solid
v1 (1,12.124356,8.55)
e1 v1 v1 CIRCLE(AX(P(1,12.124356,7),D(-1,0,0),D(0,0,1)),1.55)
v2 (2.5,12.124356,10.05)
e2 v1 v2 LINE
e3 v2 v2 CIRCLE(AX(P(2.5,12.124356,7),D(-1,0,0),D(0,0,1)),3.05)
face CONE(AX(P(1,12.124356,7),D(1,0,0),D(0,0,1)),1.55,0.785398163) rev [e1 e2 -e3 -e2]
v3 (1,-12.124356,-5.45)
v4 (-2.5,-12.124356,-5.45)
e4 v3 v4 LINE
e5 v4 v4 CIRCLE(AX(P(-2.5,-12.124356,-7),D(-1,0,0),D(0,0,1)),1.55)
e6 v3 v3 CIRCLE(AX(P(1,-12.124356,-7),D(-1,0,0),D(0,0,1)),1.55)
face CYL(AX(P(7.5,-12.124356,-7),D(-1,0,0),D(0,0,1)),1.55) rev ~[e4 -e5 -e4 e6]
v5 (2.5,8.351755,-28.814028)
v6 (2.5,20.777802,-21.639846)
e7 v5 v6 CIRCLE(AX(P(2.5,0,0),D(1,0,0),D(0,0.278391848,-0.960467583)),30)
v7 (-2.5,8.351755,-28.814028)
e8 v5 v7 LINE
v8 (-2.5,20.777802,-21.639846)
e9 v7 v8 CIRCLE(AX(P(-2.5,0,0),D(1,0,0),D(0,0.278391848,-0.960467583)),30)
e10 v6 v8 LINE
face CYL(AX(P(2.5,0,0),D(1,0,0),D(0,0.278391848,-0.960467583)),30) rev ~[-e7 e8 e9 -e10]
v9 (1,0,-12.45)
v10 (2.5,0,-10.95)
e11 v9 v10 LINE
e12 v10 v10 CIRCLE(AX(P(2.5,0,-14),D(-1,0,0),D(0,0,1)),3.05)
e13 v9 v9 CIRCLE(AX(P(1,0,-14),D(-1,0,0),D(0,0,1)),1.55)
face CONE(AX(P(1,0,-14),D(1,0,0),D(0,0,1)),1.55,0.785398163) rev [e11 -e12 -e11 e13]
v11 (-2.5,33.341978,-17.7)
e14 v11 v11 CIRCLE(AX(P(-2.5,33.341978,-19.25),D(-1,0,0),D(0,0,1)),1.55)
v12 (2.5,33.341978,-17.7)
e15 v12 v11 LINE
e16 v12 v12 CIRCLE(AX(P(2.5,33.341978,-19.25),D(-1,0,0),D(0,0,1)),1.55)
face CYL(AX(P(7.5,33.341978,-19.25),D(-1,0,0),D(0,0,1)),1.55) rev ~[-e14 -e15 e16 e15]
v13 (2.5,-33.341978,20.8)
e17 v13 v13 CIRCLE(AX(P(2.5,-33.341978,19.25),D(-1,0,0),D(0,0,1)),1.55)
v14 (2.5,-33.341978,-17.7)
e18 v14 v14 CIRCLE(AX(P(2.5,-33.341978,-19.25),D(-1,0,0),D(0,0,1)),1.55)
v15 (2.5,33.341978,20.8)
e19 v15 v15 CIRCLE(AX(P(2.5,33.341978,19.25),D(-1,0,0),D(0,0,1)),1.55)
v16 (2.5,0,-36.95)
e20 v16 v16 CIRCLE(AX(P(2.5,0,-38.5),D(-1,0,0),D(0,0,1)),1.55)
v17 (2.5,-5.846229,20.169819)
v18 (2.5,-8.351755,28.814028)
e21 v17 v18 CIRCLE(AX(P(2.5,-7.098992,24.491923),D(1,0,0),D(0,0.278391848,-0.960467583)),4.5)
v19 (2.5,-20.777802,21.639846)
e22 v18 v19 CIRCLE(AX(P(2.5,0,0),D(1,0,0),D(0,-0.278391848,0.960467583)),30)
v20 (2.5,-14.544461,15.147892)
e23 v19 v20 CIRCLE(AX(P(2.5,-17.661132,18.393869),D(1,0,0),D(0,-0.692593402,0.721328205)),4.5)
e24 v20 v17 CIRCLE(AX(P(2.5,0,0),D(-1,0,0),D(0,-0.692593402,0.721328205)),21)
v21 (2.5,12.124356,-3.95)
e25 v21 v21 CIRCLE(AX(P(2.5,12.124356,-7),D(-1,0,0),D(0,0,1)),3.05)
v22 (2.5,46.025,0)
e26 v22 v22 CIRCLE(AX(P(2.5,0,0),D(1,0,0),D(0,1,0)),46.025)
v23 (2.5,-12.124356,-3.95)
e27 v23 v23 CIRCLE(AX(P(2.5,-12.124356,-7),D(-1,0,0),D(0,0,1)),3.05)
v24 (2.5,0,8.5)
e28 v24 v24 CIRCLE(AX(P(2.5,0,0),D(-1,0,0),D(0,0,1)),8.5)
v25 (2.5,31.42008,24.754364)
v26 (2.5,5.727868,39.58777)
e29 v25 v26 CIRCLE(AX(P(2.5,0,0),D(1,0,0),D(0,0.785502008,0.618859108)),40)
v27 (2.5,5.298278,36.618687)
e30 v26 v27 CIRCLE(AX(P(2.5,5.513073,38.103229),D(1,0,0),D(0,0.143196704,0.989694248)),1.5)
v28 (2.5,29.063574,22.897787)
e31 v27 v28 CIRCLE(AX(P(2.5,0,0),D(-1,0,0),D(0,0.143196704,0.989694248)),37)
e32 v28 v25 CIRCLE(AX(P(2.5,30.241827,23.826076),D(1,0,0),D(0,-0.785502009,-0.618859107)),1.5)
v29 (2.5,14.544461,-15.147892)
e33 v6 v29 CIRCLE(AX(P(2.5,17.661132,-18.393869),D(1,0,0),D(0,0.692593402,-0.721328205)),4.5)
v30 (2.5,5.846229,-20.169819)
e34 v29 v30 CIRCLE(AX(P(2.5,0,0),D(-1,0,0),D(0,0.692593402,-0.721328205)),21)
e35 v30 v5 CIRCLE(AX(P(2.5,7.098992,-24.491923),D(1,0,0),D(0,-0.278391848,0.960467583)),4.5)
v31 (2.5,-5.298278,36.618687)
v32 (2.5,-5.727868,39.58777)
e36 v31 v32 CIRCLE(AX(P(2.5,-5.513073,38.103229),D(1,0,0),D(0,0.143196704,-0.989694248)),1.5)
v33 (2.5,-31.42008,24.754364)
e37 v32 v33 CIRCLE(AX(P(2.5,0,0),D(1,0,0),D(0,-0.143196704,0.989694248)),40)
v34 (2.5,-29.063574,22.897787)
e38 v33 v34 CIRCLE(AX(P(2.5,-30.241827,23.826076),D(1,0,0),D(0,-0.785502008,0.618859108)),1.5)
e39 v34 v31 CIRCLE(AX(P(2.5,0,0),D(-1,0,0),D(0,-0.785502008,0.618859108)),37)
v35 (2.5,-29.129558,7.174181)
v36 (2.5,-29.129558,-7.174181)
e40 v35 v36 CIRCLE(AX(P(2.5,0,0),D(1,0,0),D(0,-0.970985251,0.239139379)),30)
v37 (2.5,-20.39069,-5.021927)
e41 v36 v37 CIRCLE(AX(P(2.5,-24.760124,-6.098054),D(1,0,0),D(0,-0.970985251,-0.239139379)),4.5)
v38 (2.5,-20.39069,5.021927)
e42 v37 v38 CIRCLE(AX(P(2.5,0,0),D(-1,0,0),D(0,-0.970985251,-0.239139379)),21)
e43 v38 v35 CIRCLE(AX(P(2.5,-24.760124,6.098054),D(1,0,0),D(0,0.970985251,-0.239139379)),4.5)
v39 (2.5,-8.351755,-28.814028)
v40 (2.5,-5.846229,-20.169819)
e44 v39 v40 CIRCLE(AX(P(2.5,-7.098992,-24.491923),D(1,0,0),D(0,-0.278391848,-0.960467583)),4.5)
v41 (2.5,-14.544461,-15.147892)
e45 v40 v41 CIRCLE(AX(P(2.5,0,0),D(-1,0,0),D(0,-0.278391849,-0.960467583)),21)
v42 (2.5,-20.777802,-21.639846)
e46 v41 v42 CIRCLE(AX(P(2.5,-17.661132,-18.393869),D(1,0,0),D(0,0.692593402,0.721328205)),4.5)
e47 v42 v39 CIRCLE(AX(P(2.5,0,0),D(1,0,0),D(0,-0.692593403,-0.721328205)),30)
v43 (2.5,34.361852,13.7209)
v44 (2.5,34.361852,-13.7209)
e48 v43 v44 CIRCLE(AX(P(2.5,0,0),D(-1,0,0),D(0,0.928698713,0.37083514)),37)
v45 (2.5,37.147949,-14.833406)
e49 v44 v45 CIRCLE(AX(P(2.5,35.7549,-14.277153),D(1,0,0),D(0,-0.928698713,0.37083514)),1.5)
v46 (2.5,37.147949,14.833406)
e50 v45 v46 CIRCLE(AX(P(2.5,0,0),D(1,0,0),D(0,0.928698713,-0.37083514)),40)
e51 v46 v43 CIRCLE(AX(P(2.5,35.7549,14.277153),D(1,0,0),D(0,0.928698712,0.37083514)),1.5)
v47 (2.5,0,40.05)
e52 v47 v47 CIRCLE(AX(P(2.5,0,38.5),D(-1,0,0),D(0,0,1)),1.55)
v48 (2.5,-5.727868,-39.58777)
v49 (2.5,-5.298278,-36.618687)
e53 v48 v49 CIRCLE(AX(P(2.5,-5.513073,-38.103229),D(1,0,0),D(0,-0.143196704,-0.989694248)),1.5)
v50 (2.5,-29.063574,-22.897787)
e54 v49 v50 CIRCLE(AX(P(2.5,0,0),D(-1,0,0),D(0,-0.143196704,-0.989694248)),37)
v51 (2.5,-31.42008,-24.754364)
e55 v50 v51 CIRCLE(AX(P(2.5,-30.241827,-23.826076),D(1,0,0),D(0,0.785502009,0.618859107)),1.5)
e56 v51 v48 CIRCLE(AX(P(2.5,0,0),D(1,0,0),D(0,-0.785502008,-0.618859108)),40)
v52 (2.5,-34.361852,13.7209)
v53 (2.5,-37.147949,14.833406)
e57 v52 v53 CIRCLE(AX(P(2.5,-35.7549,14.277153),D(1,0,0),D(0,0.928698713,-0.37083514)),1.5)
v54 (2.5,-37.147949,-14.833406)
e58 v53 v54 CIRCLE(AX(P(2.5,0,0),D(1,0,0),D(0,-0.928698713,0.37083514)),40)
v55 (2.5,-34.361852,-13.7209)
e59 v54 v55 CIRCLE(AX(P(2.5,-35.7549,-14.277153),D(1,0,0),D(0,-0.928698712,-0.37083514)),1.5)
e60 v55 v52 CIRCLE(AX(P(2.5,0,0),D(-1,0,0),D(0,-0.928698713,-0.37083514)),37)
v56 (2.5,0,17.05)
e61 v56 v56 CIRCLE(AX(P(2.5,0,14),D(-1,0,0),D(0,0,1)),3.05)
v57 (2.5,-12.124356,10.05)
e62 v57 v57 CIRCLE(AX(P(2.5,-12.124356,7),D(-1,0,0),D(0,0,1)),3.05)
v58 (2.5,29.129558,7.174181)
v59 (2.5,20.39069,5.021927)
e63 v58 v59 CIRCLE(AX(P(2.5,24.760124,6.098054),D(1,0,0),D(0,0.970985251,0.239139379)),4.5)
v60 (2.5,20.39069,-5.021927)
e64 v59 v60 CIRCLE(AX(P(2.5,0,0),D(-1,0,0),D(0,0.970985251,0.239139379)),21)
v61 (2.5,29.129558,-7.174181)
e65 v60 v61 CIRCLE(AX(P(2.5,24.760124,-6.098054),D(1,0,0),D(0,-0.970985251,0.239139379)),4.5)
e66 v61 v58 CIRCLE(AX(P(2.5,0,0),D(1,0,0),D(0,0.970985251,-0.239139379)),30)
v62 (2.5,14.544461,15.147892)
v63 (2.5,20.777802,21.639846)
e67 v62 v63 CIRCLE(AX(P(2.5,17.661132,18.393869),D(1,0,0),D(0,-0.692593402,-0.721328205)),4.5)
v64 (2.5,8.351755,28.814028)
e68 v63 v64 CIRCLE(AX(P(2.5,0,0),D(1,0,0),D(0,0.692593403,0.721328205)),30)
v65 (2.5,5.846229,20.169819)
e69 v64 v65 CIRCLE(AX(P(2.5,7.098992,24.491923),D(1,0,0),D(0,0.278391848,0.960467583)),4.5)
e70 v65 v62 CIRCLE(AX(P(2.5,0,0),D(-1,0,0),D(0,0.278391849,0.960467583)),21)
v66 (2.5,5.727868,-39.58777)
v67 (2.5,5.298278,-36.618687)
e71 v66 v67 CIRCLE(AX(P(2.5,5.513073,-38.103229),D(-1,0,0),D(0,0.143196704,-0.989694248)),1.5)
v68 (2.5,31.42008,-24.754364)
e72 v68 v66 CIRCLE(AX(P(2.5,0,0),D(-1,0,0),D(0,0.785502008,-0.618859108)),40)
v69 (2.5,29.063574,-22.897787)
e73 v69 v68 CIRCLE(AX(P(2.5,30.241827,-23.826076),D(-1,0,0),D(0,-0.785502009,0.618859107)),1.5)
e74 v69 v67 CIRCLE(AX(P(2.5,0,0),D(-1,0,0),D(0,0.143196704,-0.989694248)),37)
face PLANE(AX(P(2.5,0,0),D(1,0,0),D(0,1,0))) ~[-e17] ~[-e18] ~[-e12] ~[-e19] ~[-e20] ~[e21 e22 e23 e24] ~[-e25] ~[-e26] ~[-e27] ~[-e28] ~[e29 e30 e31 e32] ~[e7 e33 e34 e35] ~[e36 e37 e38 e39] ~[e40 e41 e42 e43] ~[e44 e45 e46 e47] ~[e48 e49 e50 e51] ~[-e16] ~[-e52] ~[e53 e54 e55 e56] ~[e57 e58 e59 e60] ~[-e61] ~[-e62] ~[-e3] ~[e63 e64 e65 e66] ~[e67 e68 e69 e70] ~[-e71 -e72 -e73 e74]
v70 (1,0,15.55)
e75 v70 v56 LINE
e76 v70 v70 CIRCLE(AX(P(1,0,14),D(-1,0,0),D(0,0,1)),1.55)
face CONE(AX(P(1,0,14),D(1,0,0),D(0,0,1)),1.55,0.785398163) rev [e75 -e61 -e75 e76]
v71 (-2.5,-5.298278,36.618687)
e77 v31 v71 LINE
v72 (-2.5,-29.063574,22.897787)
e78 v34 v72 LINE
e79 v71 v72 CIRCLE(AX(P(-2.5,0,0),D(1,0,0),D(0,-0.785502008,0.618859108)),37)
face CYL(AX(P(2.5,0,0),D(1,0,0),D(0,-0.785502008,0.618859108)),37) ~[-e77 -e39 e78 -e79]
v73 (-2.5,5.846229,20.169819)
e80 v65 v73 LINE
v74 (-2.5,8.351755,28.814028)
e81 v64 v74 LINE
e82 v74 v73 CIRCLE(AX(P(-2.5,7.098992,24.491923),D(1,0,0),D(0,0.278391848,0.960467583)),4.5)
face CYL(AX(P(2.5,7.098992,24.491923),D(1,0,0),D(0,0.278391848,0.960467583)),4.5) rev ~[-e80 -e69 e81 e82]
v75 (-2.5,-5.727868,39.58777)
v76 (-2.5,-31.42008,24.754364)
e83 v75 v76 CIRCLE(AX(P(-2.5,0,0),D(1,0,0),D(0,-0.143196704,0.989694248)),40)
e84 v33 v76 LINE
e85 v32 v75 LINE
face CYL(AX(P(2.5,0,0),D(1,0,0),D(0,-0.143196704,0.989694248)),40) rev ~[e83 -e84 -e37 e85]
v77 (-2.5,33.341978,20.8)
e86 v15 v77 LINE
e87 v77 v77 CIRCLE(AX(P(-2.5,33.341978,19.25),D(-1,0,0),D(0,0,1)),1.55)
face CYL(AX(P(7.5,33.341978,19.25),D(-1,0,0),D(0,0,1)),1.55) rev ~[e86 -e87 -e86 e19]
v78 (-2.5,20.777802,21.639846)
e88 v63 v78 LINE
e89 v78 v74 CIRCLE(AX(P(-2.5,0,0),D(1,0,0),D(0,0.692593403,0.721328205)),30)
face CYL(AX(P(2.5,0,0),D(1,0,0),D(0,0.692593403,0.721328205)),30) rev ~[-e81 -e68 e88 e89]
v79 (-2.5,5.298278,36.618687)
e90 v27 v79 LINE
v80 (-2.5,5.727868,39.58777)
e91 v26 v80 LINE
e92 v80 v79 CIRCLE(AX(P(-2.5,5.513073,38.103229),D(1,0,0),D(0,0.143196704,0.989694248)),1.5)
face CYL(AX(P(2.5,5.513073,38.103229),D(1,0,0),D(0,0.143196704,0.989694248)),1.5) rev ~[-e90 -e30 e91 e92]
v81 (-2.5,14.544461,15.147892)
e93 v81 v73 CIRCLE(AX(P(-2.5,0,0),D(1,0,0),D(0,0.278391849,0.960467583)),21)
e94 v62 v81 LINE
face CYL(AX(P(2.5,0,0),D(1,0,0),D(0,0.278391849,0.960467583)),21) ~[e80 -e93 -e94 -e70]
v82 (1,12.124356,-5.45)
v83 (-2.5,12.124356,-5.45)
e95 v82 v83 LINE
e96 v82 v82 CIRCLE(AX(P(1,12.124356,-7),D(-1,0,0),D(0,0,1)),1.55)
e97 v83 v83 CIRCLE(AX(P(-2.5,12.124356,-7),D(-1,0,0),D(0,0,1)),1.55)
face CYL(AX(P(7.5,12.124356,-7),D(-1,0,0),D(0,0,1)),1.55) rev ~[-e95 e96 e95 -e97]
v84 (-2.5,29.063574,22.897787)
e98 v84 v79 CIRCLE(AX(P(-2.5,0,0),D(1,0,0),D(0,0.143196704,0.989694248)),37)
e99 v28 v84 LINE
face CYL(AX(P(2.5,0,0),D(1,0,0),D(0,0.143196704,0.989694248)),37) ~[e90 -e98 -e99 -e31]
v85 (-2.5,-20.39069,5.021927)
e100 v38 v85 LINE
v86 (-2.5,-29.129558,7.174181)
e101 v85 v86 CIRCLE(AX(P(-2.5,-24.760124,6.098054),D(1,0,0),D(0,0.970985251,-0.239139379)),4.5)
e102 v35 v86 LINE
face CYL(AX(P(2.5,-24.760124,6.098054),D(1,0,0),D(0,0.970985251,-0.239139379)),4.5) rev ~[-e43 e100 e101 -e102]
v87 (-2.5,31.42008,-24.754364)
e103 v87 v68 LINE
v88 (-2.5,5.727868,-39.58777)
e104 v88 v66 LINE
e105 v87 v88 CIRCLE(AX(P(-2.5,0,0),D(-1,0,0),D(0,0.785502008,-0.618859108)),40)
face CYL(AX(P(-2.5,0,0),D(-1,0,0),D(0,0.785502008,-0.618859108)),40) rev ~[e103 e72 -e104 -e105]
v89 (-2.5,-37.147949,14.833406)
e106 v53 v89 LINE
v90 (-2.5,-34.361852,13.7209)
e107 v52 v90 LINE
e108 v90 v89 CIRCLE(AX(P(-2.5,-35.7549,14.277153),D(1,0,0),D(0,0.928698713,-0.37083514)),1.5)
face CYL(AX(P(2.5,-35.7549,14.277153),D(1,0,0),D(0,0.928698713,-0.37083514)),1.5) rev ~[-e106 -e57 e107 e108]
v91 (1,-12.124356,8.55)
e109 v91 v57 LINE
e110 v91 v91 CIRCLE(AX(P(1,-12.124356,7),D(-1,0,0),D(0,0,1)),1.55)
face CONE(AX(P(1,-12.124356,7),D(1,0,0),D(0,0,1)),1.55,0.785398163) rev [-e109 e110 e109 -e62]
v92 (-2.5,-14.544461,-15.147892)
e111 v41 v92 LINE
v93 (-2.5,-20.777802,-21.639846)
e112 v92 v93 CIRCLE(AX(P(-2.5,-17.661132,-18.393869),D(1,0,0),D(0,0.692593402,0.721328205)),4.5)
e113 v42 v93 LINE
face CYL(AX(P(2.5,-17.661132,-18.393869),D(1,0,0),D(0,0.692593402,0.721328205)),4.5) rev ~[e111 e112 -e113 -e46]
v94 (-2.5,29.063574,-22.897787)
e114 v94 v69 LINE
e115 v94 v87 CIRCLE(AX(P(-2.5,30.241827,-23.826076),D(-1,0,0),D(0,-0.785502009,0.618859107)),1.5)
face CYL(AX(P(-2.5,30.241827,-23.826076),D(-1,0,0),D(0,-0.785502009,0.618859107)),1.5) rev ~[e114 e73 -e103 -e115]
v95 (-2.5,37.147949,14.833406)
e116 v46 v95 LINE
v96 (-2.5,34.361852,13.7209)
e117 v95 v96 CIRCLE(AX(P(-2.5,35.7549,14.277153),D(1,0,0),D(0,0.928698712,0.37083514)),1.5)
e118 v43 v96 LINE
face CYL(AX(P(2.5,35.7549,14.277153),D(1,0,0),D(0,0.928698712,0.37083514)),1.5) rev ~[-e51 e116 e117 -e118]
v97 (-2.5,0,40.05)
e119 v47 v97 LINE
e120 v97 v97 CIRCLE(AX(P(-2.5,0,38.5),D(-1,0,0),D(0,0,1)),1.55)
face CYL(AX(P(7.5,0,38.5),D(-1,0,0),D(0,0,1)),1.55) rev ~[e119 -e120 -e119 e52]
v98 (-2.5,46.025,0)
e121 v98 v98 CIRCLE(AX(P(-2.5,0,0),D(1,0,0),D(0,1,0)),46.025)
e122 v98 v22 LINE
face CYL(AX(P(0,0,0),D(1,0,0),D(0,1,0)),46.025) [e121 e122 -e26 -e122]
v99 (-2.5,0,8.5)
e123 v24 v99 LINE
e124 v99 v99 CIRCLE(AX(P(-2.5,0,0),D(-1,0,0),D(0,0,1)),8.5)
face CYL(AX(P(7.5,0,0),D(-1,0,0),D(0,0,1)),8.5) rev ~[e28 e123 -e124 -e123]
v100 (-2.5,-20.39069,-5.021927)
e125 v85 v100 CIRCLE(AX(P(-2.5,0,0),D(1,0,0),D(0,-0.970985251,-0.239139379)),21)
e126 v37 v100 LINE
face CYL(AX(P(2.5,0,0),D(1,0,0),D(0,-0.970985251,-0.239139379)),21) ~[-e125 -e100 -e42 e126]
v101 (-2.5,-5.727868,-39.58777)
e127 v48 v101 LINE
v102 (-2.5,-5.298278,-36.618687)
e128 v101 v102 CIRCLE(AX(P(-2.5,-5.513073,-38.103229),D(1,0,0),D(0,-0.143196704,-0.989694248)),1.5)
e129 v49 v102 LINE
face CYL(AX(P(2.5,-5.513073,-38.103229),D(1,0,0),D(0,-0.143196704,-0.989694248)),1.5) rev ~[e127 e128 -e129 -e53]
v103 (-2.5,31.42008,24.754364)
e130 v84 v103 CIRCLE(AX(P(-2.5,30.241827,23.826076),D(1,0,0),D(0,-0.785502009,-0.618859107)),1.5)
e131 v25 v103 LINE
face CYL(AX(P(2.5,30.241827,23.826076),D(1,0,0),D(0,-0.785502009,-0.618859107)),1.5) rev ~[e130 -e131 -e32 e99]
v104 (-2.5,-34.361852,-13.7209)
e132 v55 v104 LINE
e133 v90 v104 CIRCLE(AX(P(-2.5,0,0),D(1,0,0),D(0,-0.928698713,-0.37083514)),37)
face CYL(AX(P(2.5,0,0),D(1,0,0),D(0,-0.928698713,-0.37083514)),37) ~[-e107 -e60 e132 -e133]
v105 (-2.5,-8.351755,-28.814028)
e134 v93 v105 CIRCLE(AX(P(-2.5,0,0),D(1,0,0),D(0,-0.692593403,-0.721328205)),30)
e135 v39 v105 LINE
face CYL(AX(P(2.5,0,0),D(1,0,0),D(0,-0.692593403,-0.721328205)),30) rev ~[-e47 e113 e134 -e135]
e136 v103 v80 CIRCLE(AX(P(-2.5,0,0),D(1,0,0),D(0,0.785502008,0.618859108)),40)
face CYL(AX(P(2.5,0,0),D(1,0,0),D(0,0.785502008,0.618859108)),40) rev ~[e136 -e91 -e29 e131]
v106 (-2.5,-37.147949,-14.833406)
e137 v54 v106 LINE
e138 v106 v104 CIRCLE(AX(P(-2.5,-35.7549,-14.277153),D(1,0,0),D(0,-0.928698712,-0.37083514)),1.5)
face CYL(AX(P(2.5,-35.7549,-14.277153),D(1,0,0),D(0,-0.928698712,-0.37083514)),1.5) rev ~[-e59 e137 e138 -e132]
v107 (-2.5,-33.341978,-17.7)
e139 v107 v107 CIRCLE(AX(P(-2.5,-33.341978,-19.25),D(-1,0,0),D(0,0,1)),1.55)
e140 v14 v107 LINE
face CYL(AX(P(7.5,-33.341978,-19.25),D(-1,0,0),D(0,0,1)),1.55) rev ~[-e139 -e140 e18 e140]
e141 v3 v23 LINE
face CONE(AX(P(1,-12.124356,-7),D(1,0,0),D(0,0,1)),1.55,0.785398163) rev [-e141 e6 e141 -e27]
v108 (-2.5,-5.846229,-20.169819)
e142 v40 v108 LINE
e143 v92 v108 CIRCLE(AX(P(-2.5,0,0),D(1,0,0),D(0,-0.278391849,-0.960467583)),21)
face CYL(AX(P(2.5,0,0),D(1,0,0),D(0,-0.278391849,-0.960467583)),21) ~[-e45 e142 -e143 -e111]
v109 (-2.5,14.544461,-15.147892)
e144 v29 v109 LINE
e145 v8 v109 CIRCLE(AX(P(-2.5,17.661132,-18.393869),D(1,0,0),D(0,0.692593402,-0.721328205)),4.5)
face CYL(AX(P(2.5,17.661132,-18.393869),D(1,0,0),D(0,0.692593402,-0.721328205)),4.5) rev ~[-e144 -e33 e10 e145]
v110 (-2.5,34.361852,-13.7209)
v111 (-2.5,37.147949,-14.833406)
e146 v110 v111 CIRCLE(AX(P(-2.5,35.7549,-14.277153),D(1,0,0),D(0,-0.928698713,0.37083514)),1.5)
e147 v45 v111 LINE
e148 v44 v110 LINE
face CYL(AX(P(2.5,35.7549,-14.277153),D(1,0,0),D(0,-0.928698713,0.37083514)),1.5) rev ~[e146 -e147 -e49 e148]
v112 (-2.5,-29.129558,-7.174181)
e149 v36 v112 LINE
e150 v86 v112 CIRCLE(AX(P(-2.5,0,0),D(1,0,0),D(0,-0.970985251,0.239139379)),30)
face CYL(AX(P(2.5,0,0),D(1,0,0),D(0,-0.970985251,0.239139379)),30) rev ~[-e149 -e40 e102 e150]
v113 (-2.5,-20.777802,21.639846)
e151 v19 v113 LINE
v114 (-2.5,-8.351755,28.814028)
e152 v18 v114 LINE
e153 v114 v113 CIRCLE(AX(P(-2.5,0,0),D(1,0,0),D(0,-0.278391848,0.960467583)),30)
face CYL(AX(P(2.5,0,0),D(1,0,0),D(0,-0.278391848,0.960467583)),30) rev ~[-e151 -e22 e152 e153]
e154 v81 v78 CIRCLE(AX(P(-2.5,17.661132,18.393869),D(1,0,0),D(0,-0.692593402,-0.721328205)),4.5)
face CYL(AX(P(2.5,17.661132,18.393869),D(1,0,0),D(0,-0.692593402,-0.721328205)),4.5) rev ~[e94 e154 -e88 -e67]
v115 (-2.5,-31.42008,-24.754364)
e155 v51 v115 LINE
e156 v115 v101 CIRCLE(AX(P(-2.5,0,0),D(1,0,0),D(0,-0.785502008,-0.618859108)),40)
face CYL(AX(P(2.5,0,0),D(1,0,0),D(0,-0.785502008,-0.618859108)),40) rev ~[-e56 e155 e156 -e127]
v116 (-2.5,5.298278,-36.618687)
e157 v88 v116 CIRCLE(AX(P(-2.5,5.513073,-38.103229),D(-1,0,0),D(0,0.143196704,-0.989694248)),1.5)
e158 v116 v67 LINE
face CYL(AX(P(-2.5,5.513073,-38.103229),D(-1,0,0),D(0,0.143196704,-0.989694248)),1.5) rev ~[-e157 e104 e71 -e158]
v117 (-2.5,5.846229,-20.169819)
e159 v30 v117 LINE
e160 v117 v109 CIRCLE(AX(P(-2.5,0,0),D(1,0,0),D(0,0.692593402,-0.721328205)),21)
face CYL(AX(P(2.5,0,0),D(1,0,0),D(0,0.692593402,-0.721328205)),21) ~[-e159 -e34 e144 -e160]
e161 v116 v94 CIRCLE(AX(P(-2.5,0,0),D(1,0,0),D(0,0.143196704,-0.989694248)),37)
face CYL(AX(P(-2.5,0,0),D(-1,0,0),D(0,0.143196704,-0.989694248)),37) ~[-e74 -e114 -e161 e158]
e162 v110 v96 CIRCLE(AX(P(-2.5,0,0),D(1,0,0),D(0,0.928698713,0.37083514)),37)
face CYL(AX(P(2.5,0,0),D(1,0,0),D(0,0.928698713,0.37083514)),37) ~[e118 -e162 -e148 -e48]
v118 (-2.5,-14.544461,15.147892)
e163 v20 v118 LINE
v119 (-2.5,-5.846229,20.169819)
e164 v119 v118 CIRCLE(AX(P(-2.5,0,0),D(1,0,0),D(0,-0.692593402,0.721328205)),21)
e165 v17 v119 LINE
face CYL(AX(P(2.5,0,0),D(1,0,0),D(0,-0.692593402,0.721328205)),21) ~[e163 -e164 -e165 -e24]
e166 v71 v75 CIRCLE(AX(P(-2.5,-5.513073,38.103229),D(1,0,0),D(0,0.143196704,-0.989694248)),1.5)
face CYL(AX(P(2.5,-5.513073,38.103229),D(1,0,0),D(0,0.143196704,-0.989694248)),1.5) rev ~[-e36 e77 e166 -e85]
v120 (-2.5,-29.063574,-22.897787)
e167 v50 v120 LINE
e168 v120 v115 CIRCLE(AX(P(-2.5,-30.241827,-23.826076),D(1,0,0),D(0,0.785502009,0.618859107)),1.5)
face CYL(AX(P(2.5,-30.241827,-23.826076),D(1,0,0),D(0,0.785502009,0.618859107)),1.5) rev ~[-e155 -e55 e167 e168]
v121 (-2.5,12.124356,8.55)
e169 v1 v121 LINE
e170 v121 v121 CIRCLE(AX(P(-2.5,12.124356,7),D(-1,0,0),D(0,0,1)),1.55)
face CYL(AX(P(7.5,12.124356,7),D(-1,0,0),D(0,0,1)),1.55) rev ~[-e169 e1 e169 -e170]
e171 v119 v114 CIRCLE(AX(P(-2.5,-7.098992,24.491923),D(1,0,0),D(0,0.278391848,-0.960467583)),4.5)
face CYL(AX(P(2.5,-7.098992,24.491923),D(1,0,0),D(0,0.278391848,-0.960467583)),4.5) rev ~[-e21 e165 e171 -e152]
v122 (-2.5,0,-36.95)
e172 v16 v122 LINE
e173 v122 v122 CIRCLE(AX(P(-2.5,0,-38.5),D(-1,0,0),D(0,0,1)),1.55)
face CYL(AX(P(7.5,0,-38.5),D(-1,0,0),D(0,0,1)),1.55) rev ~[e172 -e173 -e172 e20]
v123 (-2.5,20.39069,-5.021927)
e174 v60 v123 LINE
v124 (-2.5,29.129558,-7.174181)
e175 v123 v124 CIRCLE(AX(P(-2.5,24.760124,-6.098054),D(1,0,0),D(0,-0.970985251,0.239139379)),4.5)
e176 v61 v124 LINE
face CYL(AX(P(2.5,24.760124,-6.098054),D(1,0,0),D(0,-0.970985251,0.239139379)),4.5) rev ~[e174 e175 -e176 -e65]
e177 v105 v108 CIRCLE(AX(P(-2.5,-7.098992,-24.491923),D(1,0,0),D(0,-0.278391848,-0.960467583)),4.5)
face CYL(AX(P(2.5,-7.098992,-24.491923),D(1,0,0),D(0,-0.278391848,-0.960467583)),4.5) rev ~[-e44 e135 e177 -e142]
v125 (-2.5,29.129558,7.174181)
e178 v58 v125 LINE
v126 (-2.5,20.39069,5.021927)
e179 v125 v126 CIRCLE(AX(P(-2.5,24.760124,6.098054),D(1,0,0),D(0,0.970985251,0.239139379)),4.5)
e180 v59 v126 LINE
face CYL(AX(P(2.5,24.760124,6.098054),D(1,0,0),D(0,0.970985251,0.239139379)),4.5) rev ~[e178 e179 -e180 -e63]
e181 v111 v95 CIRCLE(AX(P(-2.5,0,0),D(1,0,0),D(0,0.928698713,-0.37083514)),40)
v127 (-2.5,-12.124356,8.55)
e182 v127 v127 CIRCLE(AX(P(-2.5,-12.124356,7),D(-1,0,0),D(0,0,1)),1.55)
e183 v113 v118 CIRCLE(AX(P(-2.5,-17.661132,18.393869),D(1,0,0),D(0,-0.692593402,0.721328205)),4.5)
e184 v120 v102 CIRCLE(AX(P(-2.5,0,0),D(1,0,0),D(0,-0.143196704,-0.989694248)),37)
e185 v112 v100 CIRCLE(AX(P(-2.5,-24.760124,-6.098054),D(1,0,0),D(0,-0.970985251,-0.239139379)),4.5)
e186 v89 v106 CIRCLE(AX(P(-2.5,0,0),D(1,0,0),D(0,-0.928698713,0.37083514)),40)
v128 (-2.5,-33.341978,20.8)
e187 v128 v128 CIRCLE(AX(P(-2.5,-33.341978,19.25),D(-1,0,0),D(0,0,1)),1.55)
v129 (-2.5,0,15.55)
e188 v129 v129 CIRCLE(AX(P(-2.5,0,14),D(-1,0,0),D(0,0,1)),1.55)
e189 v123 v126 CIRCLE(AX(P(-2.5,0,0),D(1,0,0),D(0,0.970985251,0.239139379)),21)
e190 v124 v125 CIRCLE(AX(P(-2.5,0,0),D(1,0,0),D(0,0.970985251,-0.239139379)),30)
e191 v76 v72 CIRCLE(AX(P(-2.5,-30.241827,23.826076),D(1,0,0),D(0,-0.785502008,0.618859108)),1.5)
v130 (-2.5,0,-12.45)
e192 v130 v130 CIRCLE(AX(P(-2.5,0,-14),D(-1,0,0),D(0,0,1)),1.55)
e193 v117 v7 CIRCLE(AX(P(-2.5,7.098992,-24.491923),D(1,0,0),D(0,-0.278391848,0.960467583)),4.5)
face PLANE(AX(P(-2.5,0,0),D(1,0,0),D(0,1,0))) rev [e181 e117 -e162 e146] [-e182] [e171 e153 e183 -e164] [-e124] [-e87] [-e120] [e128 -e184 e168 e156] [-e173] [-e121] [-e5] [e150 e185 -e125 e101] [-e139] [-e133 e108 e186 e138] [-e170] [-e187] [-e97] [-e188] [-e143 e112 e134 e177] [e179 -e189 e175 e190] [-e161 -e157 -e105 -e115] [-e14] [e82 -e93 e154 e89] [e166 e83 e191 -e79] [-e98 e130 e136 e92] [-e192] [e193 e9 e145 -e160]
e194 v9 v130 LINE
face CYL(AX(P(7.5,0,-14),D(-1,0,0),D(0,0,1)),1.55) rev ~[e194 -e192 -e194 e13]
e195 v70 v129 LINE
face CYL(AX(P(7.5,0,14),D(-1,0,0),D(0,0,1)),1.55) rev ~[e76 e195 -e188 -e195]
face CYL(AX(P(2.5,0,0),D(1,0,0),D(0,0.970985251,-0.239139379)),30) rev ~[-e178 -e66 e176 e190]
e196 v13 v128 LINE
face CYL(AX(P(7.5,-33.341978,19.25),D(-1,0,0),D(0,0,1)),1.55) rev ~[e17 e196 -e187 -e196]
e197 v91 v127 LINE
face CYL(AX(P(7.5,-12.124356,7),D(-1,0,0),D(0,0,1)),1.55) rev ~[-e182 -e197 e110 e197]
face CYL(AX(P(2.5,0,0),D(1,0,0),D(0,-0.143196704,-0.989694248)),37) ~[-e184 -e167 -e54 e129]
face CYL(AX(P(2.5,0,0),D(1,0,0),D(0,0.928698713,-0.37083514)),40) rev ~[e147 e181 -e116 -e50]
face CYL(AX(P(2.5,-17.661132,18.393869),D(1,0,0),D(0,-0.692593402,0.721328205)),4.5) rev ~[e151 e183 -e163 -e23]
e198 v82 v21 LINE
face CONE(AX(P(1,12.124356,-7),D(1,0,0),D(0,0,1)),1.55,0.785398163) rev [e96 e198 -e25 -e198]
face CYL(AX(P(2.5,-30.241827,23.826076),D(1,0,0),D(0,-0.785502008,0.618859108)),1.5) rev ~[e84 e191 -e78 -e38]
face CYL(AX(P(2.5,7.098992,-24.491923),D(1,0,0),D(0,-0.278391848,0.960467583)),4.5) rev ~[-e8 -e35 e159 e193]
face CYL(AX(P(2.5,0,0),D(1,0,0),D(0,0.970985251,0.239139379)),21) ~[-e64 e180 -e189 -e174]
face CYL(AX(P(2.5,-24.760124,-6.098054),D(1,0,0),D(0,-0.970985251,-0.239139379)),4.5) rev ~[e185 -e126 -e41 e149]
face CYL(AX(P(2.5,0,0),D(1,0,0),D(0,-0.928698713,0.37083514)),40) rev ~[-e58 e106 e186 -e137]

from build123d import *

# Parameters (mm, degrees)
SKETCH_1_W                  = 5
SKETCH_1_H                  = 46.025
CUT_EXTRUDE_1_DEPTH         = 6
CUT_EXTRUDE_2_DEPTH         = 6
CUT_EXTRUDE_3_DEPTH         = 6
CUT_EXTRUDE_4_DEPTH         = 6
CUT_EXTRUDE_5_DEPTH         = 6
CUT_EXTRUDE_6_DEPTH         = 6
CUT_EXTRUDE_7_DEPTH         = 6
CUT_EXTRUDE_8_DEPTH         = 6
CUT_EXTRUDE_9_DEPTH         = 6
CUT_EXTRUDE_10_DEPTH        = 6
CUT_EXTRUDE_11_DEPTH        = 6
CUT_EXTRUDE_12_DEPTH        = 6
HOLE_WIZARD_17_0_17_1_D     = 17
HOLE_WIZARD_17_0_17_1_DEPTH = 5
HOLE_WIZARD_3_0_3_1_D       = 3.1
HOLE_WIZARD_3_0_3_1_DEPTH   = 5
CHAMFER_1_SIZE              = 1.5


with BuildPart() as part:
    # 草图1 → 旋转1 (revolve)
    with BuildSketch(Plane.XY):
        with Locations((0, 23.0125)):
            Rectangle(SKETCH_1_W, SKETCH_1_H)
    revolve(axis=Axis((-2.5, 0, 0), (1, 0, 0)))

    # 草图2 → 切除-拉伸1 (cut, through all)
    with BuildSketch(Plane(origin=(2.5, 0, 0), x_dir=(0, 0, -1), z_dir=(1, 0, 0))):
        with BuildLine():
            ThreePointArc((20.169819251, -5.846228817), (18.186533479, -10.5), (15.147892297, -14.544461453))
            ThreePointArc((15.147892297, -14.544461453), (15.277198907, -20.907108685), (21.639846139, -20.777802075))
            ThreePointArc((21.639846139, -20.777802075), (25.980762114, -15), (28.814027502, -8.351755453))
            ThreePointArc((28.814027502, -8.351755453), (25.744686694, -2.776888009), (20.169819251, -5.846228817))
        make_face()
    extrude(amount=-CUT_EXTRUDE_1_DEPTH, mode=Mode.SUBTRACT)

    # 草图3 → 切除-拉伸2 (cut, through all)
    with BuildSketch(Plane(origin=(2.5, 0, 0), x_dir=(0, 0, -1), z_dir=(1, 0, 0))):
        with BuildLine():
            ThreePointArc((5.021926954, -20.39069027), (0, -21), (-5.021926954, -20.39069027))
            ThreePointArc((-5.021926954, -20.39069027), (-10.467487787, -23.683996694), (-7.174181363, -29.129557528))
            ThreePointArc((-7.174181363, -29.129557528), (0, -30), (7.174181363, -29.129557528))
            ThreePointArc((7.174181363, -29.129557528), (10.467487787, -23.683996694), (5.021926954, -20.39069027))
        make_face()
    extrude(amount=-CUT_EXTRUDE_2_DEPTH, mode=Mode.SUBTRACT)

    # 草图4 → 切除-拉伸3 (cut, through all)
    with BuildSketch(Plane(origin=(2.5, 0, 0), x_dir=(0, 0, -1), z_dir=(1, 0, 0))):
        with BuildLine():
            ThreePointArc((-15.147892297, -14.544461453), (-18.186533479, -10.5), (-20.169819251, -5.846228817))
            ThreePointArc((-20.169819251, -5.846228817), (-25.744686694, -2.776888009), (-28.814027502, -8.351755453))
            ThreePointArc((-28.814027502, -8.351755453), (-25.980762114, -15), (-21.639846139, -20.777802075))
            ThreePointArc((-21.639846139, -20.777802075), (-15.277198907, -20.907108685), (-15.147892297, -14.544461453))
        make_face()
    extrude(amount=-CUT_EXTRUDE_3_DEPTH, mode=Mode.SUBTRACT)

    # 草图5 → 切除-拉伸4 (cut, through all)
    with BuildSketch(Plane(origin=(2.5, 0, 0), x_dir=(0, 0, -1), z_dir=(1, 0, 0))):
        with BuildLine():
            ThreePointArc((15.147892297, 14.544461453), (18.186533479, 10.5), (20.169819251, 5.846228817))
            ThreePointArc((20.169819251, 5.846228817), (25.744686694, 2.776888009), (28.814027502, 8.351755453))
            ThreePointArc((28.814027502, 8.351755453), (25.980762114, 15), (21.639846139, 20.777802075))
            ThreePointArc((21.639846139, 20.777802075), (15.277198907, 20.907108685), (15.147892297, 14.544461453))
        make_face()
    extrude(amount=-CUT_EXTRUDE_4_DEPTH, mode=Mode.SUBTRACT)

    # 草图6 → 切除-拉伸5 (cut, through all)
    with BuildSketch(Plane(origin=(2.5, 0, 0), x_dir=(0, 0, -1), z_dir=(1, 0, 0))):
        with BuildLine():
            ThreePointArc((-20.169819251, 5.846228817), (-18.186533479, 10.5), (-15.147892297, 14.544461453))
            ThreePointArc((-15.147892297, 14.544461453), (-15.277198907, 20.907108685), (-21.639846139, 20.777802075))
            ThreePointArc((-21.639846139, 20.777802075), (-25.980762114, 15), (-28.814027502, 8.351755453))
            ThreePointArc((-28.814027502, 8.351755453), (-25.744686694, 2.776888009), (-20.169819251, 5.846228817))
        make_face()
    extrude(amount=-CUT_EXTRUDE_5_DEPTH, mode=Mode.SUBTRACT)

    # 草图7 → 切除-拉伸6 (cut, through all)
    with BuildSketch(Plane(origin=(2.5, 0, 0), x_dir=(0, 0, -1), z_dir=(1, 0, 0))):
        with BuildLine():
            ThreePointArc((5.021926954, 20.39069027), (10.467487787, 23.683996694), (7.174181363, 29.129557528))
            ThreePointArc((7.174181363, 29.129557528), (0, 30), (-7.174181363, 29.129557528))
            ThreePointArc((-7.174181363, 29.129557528), (-10.467487787, 23.683996694), (-5.021926954, 20.39069027))
            ThreePointArc((-5.021926954, 20.39069027), (0, 21), (5.021926954, 20.39069027))
        make_face()
    extrude(amount=-CUT_EXTRUDE_6_DEPTH, mode=Mode.SUBTRACT)

    # 草图8 → 切除-拉伸7 (cut, through all)
    with BuildSketch(Plane(origin=(2.5, 0, 0), x_dir=(0, 0, -1), z_dir=(1, 0, 0))):
        with BuildLine():
            ThreePointArc((-22.897786978, 29.063574308), (-22.647822626, 31.170115981), (-24.7543643, 31.420080332))
            ThreePointArc((-24.7543643, 31.420080332), (-34.641016151, 20), (-39.587769907, 5.727868172))
            ThreePointArc((-39.587769907, 5.727868172), (-38.318023592, 4.028531744), (-36.618687164, 5.298278059))
            ThreePointArc((-36.618687164, 5.298278059), (-32.04293994, 18.5), (-22.897786978, 29.063574308))
        make_face()
    extrude(amount=-CUT_EXTRUDE_7_DEPTH, mode=Mode.SUBTRACT)

    # 草图9 → 切除-拉伸8 (cut, through all)
    with BuildSketch(Plane(origin=(2.5, 0, 0), x_dir=(0, 0, -1), z_dir=(1, 0, 0))):
        with BuildLine():
            ThreePointArc((-36.618687164, -5.298278059), (-38.318023592, -4.028531744), (-39.587769907, -5.727868172))
            ThreePointArc((-39.587769907, -5.727868172), (-34.641016151, -20), (-24.7543643, -31.420080332))
            ThreePointArc((-24.7543643, -31.420080332), (-22.647822626, -31.170115981), (-22.897786978, -29.063574308))
            ThreePointArc((-22.897786978, -29.063574308), (-32.04293994, -18.5), (-36.618687164, -5.298278059))
        make_face()
    extrude(amount=-CUT_EXTRUDE_8_DEPTH, mode=Mode.SUBTRACT)

    # 草图10 → 切除-拉伸9 (cut, through all)
    with BuildSketch(Plane(origin=(2.5, 0, 0), x_dir=(0, 0, -1), z_dir=(1, 0, 0))):
        with BuildLine():
            ThreePointArc((-13.720900186, -34.361852367), (-15.670200965, -35.198647725), (-14.833405607, -37.147948505))
            ThreePointArc((-14.833405607, -37.147948505), (0, -40), (14.833405607, -37.147948505))
            ThreePointArc((14.833405607, -37.147948505), (15.670200965, -35.198647725), (13.720900186, -34.361852367))
            ThreePointArc((13.720900186, -34.361852367), (0, -37), (-13.720900186, -34.361852367))
        make_face()
    extrude(amount=-CUT_EXTRUDE_9_DEPTH, mode=Mode.SUBTRACT)

    # 草图11 → 切除-拉伸10 (cut, through all)
    with BuildSketch(Plane(origin=(2.5, 0, 0), x_dir=(0, 0, -1), z_dir=(1, 0, 0))):
        with BuildLine():
            ThreePointArc((13.720900186, 34.361852367), (15.670200965, 35.198647725), (14.833405607, 37.147948505))
            ThreePointArc((14.833405607, 37.147948505), (0, 40), (-14.833405607, 37.147948505))
            ThreePointArc((-14.833405607, 37.147948505), (-15.670200965, 35.198647725), (-13.720900186, 34.361852367))
            ThreePointArc((-13.720900186, 34.361852367), (0, 37), (13.720900186, 34.361852367))
        make_face()
    extrude(amount=-CUT_EXTRUDE_10_DEPTH, mode=Mode.SUBTRACT)

    # 草图12 → 切除-拉伸11 (cut, through all)
    with BuildSketch(Plane(origin=(2.5, 0, 0), x_dir=(0, 0, -1), z_dir=(1, 0, 0))):
        with BuildLine():
            ThreePointArc((22.897786978, -29.063574308), (22.647822626, -31.170115981), (24.7543643, -31.420080332))
            ThreePointArc((24.7543643, -31.420080332), (34.641016151, -20), (39.587769907, -5.727868172))
            ThreePointArc((39.587769907, -5.727868172), (38.318023592, -4.028531744), (36.618687164, -5.298278059))
            ThreePointArc((36.618687164, -5.298278059), (32.04293994, -18.5), (22.897786978, -29.063574308))
        make_face()
    extrude(amount=-CUT_EXTRUDE_11_DEPTH, mode=Mode.SUBTRACT)

    # 草图13 → 切除-拉伸12 (cut, through all)
    with BuildSketch(Plane.ZY.offset(2.5)):
        with BuildLine():
            ThreePointArc((-39.587769907, 5.727868172), (-38.318023592, 4.028531744), (-36.618687164, 5.298278059))
            ThreePointArc((-36.618687164, 5.298278059), (-32.04293994, 18.5), (-22.897786978, 29.063574308))
            ThreePointArc((-22.897786978, 29.063574308), (-22.647822626, 31.170115981), (-24.7543643, 31.420080332))
            ThreePointArc((-24.7543643, 31.420080332), (-34.641016151, 20), (-39.587769907, 5.727868172))
        make_face()
    extrude(amount=-CUT_EXTRUDE_12_DEPTH, mode=Mode.SUBTRACT)

    # Ø17.0 (17) 直径孔1
    with Locations(Plane(origin=(2.5, 0, 0), x_dir=(0, 0, -1), z_dir=(1, 0, 0))):
        with Locations((0, 0)):
            Hole(HOLE_WIZARD_17_0_17_1_D / 2, depth=HOLE_WIZARD_17_0_17_1_DEPTH)

    # Ø3.0 (3) 直径孔1
    with Locations(Plane(origin=(2.5, 0, 0), x_dir=(0, 0, -1), z_dir=(1, 0, 0))):
        with Locations((-14, 0), (-7, 12.124355653), (7, 12.124355653), (14, 0), (7, -12.124355653), (-7, -12.124355653), (19.25, -33.341978046), (19.25, 33.341978046), (-38.5, 0), (38.5, 0), (-19.25, -33.341978046), (-19.25, 33.341978046)):
            Hole(HOLE_WIZARD_3_0_3_1_D / 2, depth=HOLE_WIZARD_3_0_3_1_DEPTH)

    # 倒角1
    chamfer_1_edges = [part.edges().sort_by_distance(p)[0] for p in [
        (2.5, -12.124355653, 5.45),
        (2.5, -12.124355653, -8.55),
        (2.5, 0, -15.55),
        (2.5, 12.124355653, -8.55),
        (2.5, 12.124355653, 5.45),
        (2.5, 0, 12.45),
    ]]
    chamfer(chamfer_1_edges, length=CHAMFER_1_SIZE)


solid = part.part
